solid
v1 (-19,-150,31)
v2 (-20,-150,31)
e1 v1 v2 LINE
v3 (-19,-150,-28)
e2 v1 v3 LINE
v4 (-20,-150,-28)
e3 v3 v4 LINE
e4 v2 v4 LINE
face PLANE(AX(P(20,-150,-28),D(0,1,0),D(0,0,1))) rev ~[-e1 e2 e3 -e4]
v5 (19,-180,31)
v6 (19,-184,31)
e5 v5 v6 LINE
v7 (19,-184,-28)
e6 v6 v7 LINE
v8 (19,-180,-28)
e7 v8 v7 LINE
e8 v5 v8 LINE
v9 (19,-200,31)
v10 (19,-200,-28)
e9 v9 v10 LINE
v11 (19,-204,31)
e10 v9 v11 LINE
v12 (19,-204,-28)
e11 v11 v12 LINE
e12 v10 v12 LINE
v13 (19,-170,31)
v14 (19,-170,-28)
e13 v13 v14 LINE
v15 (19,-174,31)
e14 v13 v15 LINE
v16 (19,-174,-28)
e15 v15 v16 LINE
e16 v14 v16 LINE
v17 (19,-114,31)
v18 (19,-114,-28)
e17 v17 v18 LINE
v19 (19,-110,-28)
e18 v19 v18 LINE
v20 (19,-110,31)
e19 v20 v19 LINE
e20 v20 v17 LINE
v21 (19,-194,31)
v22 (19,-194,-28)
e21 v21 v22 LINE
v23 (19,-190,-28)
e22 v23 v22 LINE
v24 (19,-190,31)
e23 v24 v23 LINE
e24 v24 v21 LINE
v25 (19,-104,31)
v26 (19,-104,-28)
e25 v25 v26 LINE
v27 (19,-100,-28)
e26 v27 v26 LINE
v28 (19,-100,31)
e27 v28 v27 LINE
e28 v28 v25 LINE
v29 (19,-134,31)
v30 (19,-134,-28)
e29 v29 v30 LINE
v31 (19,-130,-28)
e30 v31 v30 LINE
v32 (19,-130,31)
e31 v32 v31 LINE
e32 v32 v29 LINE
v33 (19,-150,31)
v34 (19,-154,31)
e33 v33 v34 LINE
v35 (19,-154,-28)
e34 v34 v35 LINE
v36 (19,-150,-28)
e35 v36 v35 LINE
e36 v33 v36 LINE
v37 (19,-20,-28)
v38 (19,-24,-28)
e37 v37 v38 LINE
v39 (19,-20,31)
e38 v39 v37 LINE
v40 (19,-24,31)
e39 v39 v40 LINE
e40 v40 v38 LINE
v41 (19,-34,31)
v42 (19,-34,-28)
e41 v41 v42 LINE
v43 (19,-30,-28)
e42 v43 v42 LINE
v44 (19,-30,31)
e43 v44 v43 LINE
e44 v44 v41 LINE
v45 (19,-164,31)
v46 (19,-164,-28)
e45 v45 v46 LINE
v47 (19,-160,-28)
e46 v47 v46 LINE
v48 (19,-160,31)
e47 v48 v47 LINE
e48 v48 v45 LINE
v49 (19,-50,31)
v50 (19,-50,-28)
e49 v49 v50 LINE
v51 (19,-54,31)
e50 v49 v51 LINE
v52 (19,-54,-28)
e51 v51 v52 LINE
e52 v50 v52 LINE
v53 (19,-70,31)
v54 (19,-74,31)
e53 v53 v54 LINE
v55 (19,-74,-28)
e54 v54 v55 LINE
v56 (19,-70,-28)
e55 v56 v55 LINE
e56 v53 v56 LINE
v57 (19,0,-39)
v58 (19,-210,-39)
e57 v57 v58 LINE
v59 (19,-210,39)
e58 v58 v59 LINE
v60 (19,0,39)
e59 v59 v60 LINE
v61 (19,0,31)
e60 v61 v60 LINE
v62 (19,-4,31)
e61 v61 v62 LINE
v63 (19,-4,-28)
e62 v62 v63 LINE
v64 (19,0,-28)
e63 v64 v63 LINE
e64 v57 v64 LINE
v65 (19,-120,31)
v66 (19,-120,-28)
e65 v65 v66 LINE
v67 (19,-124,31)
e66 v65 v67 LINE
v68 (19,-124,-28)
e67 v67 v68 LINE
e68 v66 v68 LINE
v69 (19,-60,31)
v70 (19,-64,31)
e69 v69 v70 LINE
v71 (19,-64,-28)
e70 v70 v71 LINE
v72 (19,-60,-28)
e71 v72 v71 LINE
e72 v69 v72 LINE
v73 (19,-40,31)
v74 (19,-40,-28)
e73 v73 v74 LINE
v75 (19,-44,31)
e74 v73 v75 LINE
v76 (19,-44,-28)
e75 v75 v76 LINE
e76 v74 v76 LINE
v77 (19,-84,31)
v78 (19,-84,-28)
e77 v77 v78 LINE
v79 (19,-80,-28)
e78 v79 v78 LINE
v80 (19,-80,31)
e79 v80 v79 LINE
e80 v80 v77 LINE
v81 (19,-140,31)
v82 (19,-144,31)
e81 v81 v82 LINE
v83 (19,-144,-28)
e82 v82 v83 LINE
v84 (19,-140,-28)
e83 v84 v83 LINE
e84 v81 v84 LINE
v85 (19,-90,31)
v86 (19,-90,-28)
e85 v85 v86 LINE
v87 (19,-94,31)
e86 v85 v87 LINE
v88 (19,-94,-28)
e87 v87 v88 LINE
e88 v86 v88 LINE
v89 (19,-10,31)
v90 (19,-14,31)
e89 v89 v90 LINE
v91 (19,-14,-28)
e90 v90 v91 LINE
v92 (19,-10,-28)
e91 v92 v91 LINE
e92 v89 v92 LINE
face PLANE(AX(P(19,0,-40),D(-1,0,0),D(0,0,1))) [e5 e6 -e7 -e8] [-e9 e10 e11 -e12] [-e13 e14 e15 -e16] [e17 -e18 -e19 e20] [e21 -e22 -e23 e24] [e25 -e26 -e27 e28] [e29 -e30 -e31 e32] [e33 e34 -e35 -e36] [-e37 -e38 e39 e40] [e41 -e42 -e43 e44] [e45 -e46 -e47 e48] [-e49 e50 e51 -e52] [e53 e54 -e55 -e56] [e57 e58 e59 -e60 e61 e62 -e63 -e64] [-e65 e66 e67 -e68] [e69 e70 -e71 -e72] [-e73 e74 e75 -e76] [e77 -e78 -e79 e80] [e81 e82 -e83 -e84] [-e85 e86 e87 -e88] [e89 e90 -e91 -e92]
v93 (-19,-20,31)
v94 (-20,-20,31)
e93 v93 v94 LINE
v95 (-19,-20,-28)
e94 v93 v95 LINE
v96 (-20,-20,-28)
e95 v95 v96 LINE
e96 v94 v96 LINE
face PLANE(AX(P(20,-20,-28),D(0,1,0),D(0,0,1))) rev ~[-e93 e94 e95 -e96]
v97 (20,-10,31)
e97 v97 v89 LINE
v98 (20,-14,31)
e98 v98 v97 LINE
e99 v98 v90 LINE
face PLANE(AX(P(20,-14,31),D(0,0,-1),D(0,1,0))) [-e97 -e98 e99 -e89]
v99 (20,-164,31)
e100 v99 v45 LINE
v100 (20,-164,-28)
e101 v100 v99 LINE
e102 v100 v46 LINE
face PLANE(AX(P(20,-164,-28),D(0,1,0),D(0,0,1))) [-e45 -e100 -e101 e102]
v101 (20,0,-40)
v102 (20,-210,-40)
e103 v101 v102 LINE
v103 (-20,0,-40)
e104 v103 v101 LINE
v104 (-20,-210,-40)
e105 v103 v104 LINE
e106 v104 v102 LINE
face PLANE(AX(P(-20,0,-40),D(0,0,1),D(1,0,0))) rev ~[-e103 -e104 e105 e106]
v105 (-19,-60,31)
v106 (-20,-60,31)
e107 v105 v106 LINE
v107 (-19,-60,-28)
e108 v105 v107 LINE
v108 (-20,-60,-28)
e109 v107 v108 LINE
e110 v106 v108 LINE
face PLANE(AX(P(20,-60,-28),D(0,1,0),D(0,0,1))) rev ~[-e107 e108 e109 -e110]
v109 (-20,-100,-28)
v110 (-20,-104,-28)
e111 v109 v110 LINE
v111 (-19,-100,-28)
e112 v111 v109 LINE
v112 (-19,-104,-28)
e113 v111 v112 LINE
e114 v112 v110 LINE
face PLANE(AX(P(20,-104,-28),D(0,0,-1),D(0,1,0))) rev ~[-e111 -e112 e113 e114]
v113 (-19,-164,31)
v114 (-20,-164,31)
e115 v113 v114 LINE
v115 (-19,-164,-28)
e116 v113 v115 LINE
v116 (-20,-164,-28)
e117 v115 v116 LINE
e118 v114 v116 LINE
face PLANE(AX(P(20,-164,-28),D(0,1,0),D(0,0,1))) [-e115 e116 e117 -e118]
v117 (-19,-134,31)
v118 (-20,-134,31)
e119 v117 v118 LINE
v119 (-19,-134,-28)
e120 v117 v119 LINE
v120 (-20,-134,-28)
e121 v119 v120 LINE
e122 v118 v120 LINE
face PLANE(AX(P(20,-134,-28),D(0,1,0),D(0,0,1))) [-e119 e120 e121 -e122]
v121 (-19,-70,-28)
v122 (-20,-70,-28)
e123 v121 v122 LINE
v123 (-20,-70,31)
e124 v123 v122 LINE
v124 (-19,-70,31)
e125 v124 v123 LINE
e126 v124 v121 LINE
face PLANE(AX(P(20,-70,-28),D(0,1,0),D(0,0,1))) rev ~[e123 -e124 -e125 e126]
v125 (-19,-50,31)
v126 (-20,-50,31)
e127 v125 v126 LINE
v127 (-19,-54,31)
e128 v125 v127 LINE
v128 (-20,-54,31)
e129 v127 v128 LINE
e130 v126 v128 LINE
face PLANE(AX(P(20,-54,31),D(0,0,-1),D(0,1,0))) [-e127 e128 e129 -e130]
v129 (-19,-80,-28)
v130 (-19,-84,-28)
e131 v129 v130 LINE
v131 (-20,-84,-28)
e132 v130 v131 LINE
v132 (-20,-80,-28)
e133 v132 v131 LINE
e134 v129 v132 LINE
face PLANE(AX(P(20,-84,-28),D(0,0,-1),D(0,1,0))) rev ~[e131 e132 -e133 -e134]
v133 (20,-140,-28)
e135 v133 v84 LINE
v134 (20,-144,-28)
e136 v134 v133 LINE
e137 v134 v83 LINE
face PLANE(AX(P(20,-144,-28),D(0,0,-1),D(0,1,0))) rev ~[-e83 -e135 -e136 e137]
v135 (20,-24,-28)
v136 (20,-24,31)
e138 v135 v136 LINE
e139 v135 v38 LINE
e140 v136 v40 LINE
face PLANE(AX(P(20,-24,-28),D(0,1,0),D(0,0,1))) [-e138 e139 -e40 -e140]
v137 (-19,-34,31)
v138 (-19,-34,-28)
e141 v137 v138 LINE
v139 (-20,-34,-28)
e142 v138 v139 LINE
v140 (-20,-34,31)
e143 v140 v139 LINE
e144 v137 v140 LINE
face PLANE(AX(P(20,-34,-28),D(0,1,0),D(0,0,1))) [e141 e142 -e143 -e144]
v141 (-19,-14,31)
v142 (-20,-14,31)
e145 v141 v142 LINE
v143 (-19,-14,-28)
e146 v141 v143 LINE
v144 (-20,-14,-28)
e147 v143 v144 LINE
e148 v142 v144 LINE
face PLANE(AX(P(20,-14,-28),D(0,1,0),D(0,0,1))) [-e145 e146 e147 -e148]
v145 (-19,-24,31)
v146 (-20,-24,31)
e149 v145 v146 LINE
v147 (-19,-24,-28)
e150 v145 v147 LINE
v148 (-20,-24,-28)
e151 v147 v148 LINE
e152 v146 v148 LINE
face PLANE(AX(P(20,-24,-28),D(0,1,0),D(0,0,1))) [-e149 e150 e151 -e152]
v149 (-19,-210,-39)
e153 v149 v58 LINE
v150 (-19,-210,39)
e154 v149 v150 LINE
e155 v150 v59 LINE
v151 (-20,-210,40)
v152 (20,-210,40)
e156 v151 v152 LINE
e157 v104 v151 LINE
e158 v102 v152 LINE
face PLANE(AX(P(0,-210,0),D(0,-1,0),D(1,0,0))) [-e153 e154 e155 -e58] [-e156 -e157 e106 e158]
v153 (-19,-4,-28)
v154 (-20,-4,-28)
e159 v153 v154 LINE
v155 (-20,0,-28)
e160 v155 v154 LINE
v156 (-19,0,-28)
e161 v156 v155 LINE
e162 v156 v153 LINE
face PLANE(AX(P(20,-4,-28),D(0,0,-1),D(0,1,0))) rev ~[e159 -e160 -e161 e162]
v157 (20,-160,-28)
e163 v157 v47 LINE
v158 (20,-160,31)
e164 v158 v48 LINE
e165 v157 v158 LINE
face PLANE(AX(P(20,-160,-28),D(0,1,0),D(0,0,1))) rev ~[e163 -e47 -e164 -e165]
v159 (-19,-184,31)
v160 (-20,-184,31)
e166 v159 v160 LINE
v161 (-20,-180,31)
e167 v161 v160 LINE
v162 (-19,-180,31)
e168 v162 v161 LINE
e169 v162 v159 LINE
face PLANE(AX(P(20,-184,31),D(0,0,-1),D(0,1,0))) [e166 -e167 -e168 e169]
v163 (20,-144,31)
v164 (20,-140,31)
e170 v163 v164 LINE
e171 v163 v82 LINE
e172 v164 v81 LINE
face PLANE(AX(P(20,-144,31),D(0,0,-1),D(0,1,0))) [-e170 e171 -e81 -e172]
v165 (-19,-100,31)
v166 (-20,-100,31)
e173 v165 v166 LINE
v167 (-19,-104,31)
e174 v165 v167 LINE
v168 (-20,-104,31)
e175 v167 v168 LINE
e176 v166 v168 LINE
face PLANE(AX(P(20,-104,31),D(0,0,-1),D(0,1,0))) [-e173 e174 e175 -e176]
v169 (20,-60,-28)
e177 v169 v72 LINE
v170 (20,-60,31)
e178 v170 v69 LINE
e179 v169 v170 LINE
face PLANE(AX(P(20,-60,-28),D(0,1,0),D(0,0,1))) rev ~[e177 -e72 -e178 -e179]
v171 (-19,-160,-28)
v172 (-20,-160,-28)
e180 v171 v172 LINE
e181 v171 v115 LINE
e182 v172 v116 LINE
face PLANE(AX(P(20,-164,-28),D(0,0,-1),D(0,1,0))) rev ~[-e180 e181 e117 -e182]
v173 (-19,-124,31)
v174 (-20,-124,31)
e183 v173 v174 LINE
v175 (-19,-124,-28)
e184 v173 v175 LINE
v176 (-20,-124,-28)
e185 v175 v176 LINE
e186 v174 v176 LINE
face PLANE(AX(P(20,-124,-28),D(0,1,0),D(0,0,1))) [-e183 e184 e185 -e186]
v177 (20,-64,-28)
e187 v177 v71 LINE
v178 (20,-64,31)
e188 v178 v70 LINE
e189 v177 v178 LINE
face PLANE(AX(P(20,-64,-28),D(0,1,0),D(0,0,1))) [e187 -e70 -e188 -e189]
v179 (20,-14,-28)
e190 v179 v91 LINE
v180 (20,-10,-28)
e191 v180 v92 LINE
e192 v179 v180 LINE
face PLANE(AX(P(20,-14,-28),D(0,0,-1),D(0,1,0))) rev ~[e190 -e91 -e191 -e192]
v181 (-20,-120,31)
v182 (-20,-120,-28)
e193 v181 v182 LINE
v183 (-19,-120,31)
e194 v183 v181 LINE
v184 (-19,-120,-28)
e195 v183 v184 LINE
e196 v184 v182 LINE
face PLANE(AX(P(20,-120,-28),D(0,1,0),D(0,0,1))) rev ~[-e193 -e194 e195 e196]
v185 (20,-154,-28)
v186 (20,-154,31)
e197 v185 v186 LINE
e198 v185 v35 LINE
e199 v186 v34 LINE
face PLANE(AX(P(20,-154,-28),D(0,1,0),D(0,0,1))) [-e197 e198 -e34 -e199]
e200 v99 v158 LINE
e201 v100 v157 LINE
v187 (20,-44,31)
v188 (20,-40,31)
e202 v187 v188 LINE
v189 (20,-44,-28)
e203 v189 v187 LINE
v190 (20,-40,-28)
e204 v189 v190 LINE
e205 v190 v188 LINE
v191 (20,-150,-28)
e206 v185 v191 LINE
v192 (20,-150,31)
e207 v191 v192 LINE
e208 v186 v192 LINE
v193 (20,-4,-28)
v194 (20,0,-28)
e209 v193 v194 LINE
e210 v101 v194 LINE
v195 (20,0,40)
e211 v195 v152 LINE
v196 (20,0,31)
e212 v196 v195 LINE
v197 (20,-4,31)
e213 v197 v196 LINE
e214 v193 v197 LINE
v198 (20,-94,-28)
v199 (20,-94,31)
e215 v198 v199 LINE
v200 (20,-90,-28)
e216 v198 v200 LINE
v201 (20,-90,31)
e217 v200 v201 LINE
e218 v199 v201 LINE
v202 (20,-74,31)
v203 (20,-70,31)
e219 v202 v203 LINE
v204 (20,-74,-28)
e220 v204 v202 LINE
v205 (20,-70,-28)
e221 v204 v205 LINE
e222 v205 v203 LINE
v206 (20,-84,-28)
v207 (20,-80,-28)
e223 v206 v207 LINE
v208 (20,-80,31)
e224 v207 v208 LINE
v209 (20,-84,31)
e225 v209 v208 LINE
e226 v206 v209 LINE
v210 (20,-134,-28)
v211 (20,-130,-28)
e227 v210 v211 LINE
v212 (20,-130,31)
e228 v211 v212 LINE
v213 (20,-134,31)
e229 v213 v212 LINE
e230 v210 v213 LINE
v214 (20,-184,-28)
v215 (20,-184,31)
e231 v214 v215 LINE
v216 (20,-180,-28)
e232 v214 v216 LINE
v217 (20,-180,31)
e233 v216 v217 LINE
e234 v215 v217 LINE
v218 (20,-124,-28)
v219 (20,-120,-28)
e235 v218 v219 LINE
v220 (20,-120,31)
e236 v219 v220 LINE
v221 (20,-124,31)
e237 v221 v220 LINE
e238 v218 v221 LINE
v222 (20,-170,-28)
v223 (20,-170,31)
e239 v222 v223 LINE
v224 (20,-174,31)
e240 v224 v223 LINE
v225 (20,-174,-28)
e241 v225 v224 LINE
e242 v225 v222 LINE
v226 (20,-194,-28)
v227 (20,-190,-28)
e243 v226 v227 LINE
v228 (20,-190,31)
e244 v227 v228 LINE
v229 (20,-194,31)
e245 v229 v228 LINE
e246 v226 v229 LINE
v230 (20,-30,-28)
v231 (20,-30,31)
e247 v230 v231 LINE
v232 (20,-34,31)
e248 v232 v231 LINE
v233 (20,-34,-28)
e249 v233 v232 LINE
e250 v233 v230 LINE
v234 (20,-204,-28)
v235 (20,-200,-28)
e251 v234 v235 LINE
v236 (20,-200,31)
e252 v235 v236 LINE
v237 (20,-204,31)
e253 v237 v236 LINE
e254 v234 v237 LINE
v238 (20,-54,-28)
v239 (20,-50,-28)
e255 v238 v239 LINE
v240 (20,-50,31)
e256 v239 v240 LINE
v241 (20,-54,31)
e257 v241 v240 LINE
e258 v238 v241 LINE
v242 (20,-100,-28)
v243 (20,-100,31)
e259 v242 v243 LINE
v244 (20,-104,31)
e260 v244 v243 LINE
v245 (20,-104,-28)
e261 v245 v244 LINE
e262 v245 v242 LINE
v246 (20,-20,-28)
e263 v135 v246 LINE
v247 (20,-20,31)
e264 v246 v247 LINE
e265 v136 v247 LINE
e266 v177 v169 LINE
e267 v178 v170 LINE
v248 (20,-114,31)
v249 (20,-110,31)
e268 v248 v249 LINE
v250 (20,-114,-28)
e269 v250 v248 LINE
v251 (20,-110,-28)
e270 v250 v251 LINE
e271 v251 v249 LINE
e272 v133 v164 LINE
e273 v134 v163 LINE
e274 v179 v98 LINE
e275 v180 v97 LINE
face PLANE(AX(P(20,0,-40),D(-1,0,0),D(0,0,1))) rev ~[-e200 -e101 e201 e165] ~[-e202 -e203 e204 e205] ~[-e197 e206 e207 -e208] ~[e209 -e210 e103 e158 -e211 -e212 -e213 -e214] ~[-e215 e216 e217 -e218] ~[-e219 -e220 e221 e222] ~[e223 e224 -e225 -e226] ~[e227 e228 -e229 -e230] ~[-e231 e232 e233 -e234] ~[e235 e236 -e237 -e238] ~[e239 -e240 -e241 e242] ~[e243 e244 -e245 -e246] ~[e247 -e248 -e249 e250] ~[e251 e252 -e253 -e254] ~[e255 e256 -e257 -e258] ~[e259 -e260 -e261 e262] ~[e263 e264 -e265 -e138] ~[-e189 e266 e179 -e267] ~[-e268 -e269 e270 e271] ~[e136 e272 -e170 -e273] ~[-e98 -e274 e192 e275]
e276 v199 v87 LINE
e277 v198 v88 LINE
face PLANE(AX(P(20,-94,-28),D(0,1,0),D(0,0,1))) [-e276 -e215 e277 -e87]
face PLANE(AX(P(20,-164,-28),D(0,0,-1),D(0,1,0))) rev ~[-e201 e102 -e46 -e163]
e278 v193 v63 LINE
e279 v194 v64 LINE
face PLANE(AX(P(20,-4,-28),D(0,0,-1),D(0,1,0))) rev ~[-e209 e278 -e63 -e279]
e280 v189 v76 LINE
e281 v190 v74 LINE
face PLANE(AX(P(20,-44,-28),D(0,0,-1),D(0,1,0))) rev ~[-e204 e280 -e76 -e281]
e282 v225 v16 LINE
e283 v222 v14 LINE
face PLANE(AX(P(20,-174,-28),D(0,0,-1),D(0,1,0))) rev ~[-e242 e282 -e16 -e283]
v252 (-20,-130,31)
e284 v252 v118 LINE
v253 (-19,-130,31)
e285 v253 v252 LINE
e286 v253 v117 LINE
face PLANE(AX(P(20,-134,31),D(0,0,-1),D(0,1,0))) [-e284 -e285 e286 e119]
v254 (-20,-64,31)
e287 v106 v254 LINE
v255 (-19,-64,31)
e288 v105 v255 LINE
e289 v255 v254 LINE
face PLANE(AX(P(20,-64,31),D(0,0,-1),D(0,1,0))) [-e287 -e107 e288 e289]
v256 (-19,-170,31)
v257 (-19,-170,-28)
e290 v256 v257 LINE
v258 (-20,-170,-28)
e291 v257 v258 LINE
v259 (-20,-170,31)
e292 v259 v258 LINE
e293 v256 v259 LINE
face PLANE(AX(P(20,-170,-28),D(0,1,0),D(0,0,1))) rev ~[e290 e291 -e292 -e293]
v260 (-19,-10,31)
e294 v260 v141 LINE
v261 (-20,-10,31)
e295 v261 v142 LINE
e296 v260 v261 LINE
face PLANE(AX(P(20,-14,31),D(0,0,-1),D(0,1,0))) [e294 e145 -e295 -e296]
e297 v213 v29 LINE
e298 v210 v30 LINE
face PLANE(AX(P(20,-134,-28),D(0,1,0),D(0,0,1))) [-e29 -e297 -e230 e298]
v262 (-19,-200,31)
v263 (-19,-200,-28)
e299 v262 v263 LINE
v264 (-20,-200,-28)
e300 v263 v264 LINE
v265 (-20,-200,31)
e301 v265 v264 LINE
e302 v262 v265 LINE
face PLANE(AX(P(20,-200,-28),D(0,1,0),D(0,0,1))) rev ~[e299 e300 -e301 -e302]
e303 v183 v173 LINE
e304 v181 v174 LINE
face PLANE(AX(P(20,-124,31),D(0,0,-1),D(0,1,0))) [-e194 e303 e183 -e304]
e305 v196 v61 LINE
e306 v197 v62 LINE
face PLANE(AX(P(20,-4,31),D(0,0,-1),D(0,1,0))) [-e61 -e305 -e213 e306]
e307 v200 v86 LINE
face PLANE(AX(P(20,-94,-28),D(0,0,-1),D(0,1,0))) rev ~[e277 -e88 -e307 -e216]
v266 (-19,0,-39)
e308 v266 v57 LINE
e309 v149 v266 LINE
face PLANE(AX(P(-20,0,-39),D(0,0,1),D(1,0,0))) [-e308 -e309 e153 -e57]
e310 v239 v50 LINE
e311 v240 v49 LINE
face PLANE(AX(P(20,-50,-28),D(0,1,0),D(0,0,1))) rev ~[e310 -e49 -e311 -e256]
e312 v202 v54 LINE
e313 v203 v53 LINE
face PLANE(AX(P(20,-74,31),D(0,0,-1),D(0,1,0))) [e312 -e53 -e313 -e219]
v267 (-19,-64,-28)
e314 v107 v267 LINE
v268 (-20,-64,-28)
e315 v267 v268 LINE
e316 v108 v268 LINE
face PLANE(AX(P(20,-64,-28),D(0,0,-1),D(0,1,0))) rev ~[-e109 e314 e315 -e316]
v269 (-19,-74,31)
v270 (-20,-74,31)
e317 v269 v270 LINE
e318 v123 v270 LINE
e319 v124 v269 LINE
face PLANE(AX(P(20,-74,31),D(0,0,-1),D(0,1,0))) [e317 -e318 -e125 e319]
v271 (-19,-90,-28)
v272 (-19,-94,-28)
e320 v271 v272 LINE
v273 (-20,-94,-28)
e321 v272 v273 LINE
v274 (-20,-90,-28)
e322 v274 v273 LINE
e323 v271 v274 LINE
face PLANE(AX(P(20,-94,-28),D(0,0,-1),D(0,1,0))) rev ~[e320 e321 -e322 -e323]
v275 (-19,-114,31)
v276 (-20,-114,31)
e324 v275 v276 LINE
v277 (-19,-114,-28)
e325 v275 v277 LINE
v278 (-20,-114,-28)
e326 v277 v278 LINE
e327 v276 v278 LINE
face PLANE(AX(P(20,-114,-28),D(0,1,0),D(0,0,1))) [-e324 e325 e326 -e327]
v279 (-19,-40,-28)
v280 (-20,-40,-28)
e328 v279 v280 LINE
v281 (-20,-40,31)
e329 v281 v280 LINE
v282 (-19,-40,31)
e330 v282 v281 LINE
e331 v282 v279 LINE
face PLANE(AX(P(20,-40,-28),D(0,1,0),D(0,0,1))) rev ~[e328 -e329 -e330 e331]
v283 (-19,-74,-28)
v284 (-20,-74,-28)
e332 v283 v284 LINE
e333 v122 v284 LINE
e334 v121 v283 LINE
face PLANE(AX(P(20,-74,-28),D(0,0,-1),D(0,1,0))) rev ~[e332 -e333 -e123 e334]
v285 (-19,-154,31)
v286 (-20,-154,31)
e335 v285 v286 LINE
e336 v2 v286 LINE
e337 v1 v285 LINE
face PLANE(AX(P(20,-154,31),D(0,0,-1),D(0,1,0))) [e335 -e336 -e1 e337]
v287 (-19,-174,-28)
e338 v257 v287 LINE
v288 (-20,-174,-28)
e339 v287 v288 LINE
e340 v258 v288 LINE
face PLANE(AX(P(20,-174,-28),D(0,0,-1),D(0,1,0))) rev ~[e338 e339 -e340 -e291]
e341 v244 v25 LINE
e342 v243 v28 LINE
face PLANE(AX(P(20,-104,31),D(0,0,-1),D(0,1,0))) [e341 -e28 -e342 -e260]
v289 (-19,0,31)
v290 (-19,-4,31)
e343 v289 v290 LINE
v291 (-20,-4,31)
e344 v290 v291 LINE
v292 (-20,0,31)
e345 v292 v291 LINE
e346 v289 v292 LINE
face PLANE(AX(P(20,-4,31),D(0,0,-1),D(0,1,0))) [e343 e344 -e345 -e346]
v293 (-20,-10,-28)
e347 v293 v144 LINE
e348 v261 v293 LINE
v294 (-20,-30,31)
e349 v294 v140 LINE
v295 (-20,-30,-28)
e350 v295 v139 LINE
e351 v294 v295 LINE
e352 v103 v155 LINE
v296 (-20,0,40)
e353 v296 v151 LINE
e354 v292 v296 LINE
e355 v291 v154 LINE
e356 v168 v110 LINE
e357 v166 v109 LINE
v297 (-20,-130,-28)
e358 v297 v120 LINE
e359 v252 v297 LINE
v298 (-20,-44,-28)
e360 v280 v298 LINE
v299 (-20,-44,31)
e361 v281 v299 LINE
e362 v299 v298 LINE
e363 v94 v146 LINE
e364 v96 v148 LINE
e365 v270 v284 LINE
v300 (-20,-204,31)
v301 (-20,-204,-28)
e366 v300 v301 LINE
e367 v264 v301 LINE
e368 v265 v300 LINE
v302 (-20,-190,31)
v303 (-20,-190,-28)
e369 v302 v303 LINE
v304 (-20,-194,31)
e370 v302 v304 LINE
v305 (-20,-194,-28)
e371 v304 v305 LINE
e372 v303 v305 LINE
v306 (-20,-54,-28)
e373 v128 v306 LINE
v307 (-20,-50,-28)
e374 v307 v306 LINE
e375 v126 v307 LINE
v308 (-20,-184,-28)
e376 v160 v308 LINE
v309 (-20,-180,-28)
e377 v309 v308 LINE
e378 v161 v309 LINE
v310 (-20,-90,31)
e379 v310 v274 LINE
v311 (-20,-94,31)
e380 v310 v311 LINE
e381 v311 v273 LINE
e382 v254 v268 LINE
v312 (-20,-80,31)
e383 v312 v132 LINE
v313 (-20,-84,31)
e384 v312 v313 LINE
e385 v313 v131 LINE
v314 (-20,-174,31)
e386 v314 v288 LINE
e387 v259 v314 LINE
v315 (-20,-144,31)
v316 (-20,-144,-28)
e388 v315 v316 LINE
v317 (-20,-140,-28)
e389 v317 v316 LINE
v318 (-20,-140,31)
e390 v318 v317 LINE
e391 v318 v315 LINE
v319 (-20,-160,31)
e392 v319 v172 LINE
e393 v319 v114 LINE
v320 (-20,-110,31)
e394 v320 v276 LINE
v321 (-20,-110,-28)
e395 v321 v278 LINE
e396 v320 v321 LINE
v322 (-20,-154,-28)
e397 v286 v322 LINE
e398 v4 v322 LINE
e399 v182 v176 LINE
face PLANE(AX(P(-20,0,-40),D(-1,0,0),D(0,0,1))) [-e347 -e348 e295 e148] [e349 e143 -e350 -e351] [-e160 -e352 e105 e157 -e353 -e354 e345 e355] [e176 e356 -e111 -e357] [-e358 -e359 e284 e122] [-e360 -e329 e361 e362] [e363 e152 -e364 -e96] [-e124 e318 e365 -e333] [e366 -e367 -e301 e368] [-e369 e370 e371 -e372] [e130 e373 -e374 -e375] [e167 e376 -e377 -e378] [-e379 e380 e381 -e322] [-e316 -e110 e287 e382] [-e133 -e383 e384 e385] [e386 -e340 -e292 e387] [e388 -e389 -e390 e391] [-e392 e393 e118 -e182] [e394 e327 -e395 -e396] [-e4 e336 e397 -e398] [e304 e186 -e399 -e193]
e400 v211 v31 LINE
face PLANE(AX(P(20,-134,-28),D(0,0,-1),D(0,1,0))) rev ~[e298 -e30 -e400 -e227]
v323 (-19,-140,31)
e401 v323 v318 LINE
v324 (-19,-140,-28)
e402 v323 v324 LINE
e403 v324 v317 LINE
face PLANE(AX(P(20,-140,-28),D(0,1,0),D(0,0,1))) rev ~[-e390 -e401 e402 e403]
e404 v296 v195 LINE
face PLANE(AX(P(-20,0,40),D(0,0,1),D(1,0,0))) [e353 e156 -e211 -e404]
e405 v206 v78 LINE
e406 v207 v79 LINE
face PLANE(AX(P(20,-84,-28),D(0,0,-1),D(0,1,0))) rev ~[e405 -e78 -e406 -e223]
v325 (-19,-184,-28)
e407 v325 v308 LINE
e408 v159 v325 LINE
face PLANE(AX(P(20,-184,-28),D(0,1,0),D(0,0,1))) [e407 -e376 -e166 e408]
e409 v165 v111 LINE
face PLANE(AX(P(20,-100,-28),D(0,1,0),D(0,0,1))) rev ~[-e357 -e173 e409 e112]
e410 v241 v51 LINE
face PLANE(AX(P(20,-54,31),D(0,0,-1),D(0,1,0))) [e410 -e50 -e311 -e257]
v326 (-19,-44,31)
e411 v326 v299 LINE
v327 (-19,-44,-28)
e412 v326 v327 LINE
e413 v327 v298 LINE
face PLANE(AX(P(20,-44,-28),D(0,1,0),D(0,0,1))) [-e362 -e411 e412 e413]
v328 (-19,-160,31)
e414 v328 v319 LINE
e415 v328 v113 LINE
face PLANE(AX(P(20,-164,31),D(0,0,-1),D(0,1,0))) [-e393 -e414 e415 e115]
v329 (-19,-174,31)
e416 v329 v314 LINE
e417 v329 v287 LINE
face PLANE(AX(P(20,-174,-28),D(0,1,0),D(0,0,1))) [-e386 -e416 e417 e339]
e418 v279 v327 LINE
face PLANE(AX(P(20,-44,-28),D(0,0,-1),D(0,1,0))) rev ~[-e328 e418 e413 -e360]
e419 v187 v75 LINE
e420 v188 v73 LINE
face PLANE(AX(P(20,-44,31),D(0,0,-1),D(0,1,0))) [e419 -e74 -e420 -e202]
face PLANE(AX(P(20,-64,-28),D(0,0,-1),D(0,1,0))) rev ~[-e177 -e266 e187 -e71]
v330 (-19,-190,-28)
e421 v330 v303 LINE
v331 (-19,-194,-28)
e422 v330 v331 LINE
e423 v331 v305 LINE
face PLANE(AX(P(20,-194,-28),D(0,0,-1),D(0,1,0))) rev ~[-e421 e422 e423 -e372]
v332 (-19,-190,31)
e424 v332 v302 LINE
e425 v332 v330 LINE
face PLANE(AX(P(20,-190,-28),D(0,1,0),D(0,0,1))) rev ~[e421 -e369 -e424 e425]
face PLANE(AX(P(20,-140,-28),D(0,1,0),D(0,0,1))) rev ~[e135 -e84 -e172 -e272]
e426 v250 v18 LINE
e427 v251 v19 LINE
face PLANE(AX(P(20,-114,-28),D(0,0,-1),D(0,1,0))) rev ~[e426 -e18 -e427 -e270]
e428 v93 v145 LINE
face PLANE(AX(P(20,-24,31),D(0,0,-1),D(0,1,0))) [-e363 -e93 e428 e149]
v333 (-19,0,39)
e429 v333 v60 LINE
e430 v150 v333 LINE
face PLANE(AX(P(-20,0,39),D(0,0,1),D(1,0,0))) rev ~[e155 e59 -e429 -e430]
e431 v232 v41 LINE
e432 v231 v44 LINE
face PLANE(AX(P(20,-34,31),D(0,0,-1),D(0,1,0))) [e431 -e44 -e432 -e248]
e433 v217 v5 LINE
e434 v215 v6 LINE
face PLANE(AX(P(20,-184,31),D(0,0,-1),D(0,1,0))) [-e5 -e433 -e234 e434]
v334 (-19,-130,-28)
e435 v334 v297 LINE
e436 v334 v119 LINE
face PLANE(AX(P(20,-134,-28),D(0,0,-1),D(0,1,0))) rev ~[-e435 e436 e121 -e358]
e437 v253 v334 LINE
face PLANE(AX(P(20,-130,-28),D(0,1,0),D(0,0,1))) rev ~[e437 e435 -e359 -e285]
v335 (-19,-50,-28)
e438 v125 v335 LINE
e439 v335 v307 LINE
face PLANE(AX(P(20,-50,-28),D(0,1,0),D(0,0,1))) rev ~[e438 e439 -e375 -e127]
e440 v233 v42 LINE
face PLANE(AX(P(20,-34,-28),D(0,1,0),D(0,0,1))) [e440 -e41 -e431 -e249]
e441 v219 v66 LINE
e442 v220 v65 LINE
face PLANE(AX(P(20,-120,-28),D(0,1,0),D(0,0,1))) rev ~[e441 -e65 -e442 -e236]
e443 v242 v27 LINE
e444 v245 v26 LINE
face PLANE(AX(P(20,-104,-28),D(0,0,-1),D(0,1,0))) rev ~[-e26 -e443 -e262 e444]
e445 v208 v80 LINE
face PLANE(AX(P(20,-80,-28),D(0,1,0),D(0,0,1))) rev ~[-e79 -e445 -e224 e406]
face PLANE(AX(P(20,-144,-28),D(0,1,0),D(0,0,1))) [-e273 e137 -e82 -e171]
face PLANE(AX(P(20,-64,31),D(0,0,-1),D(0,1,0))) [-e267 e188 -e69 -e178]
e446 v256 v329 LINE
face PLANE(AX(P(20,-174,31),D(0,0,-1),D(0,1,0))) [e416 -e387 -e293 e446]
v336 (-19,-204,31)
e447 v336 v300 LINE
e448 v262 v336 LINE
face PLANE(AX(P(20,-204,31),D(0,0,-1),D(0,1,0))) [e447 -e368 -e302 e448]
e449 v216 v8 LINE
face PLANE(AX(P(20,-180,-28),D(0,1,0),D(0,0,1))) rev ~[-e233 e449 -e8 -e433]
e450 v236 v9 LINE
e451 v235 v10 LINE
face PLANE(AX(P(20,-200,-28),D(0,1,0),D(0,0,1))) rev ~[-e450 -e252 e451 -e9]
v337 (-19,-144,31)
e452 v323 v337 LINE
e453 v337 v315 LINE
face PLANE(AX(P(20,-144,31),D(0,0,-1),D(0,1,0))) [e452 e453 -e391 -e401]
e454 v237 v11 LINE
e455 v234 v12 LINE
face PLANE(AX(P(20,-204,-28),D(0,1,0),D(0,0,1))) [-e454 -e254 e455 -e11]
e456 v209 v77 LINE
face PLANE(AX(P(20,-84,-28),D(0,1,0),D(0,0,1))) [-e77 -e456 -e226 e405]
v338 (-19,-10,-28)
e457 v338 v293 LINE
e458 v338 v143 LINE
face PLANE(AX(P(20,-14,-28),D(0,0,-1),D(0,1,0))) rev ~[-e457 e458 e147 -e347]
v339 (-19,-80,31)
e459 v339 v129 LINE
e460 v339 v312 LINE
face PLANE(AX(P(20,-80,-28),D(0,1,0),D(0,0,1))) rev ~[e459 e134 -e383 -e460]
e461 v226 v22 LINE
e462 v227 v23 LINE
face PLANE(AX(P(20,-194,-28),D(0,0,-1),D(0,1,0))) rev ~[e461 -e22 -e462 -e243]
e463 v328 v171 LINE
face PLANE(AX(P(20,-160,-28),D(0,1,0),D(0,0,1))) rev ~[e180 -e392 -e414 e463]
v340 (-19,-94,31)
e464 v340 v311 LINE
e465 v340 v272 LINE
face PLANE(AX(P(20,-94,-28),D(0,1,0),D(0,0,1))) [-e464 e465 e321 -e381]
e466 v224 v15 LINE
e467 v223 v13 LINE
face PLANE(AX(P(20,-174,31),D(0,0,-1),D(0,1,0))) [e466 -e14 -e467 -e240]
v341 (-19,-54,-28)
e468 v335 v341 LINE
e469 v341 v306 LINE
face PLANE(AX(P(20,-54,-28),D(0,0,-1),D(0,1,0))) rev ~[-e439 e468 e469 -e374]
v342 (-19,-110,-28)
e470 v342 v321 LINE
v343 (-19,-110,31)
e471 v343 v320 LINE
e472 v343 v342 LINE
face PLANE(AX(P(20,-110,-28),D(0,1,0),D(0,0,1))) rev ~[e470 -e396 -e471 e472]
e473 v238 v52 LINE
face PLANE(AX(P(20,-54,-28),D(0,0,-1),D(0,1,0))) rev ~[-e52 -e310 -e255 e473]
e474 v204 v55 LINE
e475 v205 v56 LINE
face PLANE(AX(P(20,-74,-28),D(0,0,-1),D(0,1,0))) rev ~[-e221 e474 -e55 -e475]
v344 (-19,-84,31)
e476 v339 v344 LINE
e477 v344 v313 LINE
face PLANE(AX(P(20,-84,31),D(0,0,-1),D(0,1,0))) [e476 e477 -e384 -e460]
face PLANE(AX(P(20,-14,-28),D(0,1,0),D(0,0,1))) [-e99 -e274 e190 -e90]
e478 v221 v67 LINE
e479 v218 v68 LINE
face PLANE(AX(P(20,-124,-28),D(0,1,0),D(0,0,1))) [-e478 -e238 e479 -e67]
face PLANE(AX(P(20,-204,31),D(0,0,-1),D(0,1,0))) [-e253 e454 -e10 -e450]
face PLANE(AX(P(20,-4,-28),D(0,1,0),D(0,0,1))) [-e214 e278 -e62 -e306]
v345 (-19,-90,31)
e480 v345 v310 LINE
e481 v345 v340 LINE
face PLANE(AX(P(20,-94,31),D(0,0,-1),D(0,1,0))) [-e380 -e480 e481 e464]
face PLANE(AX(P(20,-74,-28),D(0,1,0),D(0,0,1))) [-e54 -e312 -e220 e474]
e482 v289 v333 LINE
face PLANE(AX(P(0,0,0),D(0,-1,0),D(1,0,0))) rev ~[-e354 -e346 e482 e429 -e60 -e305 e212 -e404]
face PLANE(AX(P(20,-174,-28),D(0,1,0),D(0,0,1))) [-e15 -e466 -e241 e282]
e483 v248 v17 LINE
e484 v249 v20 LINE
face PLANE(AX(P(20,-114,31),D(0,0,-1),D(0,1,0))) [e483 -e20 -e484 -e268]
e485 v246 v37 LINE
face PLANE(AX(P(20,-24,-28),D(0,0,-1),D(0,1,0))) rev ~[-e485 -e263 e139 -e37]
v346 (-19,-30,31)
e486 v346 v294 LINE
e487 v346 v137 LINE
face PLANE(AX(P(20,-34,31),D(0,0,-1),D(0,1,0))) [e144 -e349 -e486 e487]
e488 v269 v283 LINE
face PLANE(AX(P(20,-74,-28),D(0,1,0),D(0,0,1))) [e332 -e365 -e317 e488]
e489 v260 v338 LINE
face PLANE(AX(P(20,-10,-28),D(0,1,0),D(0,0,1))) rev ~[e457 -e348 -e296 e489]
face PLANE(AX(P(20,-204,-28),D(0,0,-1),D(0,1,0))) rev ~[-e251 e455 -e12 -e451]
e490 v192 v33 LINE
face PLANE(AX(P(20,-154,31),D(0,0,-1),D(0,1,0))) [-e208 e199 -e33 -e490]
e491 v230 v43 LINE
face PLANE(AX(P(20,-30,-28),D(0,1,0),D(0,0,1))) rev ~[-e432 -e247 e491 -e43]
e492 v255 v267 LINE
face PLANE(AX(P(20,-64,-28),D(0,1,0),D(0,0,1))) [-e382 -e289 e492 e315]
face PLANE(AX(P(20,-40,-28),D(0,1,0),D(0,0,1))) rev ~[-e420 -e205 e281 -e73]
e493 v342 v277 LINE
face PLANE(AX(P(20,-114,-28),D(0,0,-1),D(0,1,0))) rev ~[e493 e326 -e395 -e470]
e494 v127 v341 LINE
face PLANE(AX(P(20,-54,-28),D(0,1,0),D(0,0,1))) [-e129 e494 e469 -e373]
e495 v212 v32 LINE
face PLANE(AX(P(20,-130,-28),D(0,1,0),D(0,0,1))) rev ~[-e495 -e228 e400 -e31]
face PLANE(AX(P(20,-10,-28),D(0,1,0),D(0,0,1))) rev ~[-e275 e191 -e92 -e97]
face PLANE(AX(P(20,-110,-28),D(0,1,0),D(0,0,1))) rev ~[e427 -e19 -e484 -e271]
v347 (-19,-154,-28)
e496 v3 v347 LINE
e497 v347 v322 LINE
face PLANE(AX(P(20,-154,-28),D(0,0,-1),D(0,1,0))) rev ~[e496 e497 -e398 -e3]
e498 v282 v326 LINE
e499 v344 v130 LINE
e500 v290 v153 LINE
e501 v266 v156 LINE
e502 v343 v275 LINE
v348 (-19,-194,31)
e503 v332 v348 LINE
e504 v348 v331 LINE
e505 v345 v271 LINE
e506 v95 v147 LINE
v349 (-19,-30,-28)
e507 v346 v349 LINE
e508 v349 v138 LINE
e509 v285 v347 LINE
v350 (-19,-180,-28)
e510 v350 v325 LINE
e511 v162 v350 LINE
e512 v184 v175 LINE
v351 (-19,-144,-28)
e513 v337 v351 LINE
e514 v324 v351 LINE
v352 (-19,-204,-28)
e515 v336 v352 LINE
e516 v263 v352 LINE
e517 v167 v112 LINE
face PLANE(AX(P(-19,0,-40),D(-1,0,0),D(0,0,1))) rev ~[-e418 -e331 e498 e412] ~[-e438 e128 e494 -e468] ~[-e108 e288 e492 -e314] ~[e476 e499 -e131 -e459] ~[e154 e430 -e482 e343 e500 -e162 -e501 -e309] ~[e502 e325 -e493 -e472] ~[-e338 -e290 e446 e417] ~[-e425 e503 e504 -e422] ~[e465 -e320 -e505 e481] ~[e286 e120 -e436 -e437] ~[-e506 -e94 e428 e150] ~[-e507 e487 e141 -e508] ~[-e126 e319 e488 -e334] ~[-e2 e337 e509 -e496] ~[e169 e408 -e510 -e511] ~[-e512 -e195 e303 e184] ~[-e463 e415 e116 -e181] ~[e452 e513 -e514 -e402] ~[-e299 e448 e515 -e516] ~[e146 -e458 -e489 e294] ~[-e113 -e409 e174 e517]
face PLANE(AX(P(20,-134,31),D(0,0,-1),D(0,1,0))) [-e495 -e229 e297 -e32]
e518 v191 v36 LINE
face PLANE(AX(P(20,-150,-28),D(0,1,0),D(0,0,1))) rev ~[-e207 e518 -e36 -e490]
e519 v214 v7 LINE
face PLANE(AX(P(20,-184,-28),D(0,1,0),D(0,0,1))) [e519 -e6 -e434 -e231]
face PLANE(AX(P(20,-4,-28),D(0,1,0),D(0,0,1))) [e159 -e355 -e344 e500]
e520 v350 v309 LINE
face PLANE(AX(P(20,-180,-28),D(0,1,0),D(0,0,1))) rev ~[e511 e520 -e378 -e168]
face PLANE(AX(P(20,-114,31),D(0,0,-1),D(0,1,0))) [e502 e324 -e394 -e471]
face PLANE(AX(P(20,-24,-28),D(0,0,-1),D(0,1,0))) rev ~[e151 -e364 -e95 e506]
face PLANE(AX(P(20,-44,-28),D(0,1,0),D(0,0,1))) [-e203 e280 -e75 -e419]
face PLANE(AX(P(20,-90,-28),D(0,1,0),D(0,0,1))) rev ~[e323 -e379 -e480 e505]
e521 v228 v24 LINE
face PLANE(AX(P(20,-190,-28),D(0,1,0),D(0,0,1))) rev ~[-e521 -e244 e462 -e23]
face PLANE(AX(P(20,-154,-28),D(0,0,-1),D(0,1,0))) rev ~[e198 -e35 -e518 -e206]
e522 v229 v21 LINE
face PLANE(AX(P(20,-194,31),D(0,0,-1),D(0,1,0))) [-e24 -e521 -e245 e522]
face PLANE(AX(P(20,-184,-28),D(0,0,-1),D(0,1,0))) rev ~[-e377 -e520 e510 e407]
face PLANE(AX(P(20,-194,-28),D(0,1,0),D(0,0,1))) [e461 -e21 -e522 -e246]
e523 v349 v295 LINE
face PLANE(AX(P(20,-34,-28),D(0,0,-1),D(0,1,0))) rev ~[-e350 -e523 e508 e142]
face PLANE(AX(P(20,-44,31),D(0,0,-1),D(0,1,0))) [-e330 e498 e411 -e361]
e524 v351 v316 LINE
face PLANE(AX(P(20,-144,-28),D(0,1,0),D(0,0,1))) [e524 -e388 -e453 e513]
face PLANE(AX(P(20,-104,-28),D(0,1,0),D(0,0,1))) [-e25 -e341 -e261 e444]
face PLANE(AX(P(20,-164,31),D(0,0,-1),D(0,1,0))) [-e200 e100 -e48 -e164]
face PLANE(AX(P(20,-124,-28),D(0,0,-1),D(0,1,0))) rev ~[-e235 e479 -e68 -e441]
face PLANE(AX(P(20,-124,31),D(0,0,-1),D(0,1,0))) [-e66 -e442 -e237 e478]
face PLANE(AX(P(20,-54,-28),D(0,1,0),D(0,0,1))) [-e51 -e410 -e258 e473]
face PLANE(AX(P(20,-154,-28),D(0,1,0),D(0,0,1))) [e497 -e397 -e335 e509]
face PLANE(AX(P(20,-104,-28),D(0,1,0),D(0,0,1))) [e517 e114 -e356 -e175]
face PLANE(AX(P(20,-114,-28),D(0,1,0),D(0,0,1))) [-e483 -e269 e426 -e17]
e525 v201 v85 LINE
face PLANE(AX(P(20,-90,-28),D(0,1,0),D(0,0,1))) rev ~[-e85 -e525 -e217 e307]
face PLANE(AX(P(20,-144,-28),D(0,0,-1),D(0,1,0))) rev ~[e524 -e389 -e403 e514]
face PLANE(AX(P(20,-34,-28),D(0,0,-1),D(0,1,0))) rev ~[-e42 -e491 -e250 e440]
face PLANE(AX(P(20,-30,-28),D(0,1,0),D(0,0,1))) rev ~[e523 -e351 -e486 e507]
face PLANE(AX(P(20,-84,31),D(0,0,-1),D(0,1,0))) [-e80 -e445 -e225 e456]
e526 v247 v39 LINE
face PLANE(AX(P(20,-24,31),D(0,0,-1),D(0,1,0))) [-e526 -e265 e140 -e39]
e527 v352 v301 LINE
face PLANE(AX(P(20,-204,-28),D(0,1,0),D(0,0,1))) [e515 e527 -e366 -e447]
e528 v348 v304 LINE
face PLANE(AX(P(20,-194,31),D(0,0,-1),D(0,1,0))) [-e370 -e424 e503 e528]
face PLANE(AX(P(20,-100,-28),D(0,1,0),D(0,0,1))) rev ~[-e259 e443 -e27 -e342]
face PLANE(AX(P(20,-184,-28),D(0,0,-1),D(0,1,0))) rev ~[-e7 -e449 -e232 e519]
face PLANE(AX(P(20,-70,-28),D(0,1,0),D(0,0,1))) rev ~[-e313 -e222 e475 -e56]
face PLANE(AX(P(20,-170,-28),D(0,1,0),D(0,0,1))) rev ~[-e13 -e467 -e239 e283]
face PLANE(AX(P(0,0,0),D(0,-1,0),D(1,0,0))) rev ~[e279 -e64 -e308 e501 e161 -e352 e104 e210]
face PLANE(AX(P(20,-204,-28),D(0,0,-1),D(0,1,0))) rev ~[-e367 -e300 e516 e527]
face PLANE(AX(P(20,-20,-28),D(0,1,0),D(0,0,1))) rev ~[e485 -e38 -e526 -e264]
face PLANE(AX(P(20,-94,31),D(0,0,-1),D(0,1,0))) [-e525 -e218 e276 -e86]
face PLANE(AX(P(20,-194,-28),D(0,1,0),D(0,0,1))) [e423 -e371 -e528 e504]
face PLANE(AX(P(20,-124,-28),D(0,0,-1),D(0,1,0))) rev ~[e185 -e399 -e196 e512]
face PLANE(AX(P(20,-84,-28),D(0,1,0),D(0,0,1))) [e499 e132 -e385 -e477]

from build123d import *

# Parameters (mm, degrees)
F1_W     = 40
F1_H     = 80
F2_DEPTH = 210
F3_T     = -1
F4_W     = 4
F4_H     = 59
F5_DEPTH = 40.001


with BuildPart() as f2:
    # F1 (on Front) → F2 (new body)
    with BuildSketch(Plane.XZ):
        Rectangle(F1_W, F1_H)
    extrude(amount=F2_DEPTH)

    # F3
    f3_openings = [f2.faces().sort_by_distance(p)[0] for p in [
        (0, -210, 0),
        (0, 0, 0),
    ]]
    offset(amount=F3_T, openings=f3_openings)

    # F4 (on face) → F5 (cut, through all)
    with BuildSketch(Plane.YZ.offset(20)):
        with Locations((-202, 1.5)):
            Rectangle(F4_W, F4_H)
        with Locations((-192, 1.5)):
            Rectangle(F4_W, F4_H)
        with Locations((-182, 1.5)):
            Rectangle(F4_W, F4_H)
        with Locations((-172, 1.5)):
            Rectangle(F4_W, F4_H)
        with Locations((-162, 1.5)):
            Rectangle(F4_W, F4_H)
        with Locations((-152, 1.5)):
            Rectangle(F4_W, F4_H)
        with Locations((-142, 1.5)):
            Rectangle(F4_W, F4_H)
        with Locations((-132, 1.5)):
            Rectangle(F4_W, F4_H)
        with Locations((-122, 1.5)):
            Rectangle(F4_W, F4_H)
        with Locations((-112, 1.5)):
            Rectangle(F4_W, F4_H)
        with Locations((-102, 1.5)):
            Rectangle(F4_W, F4_H)
        with Locations((-92, 1.5)):
            Rectangle(F4_W, F4_H)
        with Locations((-82, 1.5)):
            Rectangle(F4_W, F4_H)
        with Locations((-72, 1.5)):
            Rectangle(F4_W, F4_H)
        with Locations((-62, 1.5)):
            Rectangle(F4_W, F4_H)
        with Locations((-52, 1.5)):
            Rectangle(F4_W, F4_H)
        with Locations((-42, 1.5)):
            Rectangle(F4_W, F4_H)
        with Locations((-32, 1.5)):
            Rectangle(F4_W, F4_H)
        with Locations((-22, 1.5)):
            Rectangle(F4_W, F4_H)
        with Locations((-12, 1.5)):
            Rectangle(F4_W, F4_H)
        with Locations((-2, 1.5)):
            Rectangle(F4_W, F4_H)
        with Locations((8, 1.5)):
            Rectangle(F4_W, F4_H)
        with Locations((18, 1.5)):
            Rectangle(F4_W, F4_H)
        with Locations((28, 1.5)):
            Rectangle(F4_W, F4_H)
        with Locations((38, 1.5)):
            Rectangle(F4_W, F4_H)
        with Locations((48, 1.5)):
            Rectangle(F4_W, F4_H)
        with Locations((58, 1.5)):
            Rectangle(F4_W, F4_H)
        with Locations((68, 1.5)):
            Rectangle(F4_W, F4_H)
        with Locations((78, 1.5)):
            Rectangle(F4_W, F4_H)
        with Locations((88, 1.5)):
            Rectangle(F4_W, F4_H)
        with Locations((98, 1.5)):
            Rectangle(F4_W, F4_H)
        with Locations((108, 1.5)):
            Rectangle(F4_W, F4_H)
        with Locations((118, 1.5)):
            Rectangle(F4_W, F4_H)
        with Locations((128, 1.5)):
            Rectangle(F4_W, F4_H)
        with Locations((138, 1.5)):
            Rectangle(F4_W, F4_H)
        with Locations((148, 1.5)):
            Rectangle(F4_W, F4_H)
        with Locations((158, 1.5)):
            Rectangle(F4_W, F4_H)
        with Locations((168, 1.5)):
            Rectangle(F4_W, F4_H)
        with Locations((178, 1.5)):
            Rectangle(F4_W, F4_H)
        with Locations((198, 1.5)):
            Rectangle(F4_W, F4_H)
        with Locations((208, 1.5)):
            Rectangle(F4_W, F4_H)
        with Locations((218, 1.5)):
            Rectangle(F4_W, F4_H)
        with Locations((228, 1.5)):
            Rectangle(F4_W, F4_H)
        with Locations((238, 1.5)):
            Rectangle(F4_W, F4_H)
        with Locations((188, 1.5)):
            Rectangle(F4_W, F4_H)
    extrude(amount=-F5_DEPTH, mode=Mode.SUBTRACT)


solid = f2.part
